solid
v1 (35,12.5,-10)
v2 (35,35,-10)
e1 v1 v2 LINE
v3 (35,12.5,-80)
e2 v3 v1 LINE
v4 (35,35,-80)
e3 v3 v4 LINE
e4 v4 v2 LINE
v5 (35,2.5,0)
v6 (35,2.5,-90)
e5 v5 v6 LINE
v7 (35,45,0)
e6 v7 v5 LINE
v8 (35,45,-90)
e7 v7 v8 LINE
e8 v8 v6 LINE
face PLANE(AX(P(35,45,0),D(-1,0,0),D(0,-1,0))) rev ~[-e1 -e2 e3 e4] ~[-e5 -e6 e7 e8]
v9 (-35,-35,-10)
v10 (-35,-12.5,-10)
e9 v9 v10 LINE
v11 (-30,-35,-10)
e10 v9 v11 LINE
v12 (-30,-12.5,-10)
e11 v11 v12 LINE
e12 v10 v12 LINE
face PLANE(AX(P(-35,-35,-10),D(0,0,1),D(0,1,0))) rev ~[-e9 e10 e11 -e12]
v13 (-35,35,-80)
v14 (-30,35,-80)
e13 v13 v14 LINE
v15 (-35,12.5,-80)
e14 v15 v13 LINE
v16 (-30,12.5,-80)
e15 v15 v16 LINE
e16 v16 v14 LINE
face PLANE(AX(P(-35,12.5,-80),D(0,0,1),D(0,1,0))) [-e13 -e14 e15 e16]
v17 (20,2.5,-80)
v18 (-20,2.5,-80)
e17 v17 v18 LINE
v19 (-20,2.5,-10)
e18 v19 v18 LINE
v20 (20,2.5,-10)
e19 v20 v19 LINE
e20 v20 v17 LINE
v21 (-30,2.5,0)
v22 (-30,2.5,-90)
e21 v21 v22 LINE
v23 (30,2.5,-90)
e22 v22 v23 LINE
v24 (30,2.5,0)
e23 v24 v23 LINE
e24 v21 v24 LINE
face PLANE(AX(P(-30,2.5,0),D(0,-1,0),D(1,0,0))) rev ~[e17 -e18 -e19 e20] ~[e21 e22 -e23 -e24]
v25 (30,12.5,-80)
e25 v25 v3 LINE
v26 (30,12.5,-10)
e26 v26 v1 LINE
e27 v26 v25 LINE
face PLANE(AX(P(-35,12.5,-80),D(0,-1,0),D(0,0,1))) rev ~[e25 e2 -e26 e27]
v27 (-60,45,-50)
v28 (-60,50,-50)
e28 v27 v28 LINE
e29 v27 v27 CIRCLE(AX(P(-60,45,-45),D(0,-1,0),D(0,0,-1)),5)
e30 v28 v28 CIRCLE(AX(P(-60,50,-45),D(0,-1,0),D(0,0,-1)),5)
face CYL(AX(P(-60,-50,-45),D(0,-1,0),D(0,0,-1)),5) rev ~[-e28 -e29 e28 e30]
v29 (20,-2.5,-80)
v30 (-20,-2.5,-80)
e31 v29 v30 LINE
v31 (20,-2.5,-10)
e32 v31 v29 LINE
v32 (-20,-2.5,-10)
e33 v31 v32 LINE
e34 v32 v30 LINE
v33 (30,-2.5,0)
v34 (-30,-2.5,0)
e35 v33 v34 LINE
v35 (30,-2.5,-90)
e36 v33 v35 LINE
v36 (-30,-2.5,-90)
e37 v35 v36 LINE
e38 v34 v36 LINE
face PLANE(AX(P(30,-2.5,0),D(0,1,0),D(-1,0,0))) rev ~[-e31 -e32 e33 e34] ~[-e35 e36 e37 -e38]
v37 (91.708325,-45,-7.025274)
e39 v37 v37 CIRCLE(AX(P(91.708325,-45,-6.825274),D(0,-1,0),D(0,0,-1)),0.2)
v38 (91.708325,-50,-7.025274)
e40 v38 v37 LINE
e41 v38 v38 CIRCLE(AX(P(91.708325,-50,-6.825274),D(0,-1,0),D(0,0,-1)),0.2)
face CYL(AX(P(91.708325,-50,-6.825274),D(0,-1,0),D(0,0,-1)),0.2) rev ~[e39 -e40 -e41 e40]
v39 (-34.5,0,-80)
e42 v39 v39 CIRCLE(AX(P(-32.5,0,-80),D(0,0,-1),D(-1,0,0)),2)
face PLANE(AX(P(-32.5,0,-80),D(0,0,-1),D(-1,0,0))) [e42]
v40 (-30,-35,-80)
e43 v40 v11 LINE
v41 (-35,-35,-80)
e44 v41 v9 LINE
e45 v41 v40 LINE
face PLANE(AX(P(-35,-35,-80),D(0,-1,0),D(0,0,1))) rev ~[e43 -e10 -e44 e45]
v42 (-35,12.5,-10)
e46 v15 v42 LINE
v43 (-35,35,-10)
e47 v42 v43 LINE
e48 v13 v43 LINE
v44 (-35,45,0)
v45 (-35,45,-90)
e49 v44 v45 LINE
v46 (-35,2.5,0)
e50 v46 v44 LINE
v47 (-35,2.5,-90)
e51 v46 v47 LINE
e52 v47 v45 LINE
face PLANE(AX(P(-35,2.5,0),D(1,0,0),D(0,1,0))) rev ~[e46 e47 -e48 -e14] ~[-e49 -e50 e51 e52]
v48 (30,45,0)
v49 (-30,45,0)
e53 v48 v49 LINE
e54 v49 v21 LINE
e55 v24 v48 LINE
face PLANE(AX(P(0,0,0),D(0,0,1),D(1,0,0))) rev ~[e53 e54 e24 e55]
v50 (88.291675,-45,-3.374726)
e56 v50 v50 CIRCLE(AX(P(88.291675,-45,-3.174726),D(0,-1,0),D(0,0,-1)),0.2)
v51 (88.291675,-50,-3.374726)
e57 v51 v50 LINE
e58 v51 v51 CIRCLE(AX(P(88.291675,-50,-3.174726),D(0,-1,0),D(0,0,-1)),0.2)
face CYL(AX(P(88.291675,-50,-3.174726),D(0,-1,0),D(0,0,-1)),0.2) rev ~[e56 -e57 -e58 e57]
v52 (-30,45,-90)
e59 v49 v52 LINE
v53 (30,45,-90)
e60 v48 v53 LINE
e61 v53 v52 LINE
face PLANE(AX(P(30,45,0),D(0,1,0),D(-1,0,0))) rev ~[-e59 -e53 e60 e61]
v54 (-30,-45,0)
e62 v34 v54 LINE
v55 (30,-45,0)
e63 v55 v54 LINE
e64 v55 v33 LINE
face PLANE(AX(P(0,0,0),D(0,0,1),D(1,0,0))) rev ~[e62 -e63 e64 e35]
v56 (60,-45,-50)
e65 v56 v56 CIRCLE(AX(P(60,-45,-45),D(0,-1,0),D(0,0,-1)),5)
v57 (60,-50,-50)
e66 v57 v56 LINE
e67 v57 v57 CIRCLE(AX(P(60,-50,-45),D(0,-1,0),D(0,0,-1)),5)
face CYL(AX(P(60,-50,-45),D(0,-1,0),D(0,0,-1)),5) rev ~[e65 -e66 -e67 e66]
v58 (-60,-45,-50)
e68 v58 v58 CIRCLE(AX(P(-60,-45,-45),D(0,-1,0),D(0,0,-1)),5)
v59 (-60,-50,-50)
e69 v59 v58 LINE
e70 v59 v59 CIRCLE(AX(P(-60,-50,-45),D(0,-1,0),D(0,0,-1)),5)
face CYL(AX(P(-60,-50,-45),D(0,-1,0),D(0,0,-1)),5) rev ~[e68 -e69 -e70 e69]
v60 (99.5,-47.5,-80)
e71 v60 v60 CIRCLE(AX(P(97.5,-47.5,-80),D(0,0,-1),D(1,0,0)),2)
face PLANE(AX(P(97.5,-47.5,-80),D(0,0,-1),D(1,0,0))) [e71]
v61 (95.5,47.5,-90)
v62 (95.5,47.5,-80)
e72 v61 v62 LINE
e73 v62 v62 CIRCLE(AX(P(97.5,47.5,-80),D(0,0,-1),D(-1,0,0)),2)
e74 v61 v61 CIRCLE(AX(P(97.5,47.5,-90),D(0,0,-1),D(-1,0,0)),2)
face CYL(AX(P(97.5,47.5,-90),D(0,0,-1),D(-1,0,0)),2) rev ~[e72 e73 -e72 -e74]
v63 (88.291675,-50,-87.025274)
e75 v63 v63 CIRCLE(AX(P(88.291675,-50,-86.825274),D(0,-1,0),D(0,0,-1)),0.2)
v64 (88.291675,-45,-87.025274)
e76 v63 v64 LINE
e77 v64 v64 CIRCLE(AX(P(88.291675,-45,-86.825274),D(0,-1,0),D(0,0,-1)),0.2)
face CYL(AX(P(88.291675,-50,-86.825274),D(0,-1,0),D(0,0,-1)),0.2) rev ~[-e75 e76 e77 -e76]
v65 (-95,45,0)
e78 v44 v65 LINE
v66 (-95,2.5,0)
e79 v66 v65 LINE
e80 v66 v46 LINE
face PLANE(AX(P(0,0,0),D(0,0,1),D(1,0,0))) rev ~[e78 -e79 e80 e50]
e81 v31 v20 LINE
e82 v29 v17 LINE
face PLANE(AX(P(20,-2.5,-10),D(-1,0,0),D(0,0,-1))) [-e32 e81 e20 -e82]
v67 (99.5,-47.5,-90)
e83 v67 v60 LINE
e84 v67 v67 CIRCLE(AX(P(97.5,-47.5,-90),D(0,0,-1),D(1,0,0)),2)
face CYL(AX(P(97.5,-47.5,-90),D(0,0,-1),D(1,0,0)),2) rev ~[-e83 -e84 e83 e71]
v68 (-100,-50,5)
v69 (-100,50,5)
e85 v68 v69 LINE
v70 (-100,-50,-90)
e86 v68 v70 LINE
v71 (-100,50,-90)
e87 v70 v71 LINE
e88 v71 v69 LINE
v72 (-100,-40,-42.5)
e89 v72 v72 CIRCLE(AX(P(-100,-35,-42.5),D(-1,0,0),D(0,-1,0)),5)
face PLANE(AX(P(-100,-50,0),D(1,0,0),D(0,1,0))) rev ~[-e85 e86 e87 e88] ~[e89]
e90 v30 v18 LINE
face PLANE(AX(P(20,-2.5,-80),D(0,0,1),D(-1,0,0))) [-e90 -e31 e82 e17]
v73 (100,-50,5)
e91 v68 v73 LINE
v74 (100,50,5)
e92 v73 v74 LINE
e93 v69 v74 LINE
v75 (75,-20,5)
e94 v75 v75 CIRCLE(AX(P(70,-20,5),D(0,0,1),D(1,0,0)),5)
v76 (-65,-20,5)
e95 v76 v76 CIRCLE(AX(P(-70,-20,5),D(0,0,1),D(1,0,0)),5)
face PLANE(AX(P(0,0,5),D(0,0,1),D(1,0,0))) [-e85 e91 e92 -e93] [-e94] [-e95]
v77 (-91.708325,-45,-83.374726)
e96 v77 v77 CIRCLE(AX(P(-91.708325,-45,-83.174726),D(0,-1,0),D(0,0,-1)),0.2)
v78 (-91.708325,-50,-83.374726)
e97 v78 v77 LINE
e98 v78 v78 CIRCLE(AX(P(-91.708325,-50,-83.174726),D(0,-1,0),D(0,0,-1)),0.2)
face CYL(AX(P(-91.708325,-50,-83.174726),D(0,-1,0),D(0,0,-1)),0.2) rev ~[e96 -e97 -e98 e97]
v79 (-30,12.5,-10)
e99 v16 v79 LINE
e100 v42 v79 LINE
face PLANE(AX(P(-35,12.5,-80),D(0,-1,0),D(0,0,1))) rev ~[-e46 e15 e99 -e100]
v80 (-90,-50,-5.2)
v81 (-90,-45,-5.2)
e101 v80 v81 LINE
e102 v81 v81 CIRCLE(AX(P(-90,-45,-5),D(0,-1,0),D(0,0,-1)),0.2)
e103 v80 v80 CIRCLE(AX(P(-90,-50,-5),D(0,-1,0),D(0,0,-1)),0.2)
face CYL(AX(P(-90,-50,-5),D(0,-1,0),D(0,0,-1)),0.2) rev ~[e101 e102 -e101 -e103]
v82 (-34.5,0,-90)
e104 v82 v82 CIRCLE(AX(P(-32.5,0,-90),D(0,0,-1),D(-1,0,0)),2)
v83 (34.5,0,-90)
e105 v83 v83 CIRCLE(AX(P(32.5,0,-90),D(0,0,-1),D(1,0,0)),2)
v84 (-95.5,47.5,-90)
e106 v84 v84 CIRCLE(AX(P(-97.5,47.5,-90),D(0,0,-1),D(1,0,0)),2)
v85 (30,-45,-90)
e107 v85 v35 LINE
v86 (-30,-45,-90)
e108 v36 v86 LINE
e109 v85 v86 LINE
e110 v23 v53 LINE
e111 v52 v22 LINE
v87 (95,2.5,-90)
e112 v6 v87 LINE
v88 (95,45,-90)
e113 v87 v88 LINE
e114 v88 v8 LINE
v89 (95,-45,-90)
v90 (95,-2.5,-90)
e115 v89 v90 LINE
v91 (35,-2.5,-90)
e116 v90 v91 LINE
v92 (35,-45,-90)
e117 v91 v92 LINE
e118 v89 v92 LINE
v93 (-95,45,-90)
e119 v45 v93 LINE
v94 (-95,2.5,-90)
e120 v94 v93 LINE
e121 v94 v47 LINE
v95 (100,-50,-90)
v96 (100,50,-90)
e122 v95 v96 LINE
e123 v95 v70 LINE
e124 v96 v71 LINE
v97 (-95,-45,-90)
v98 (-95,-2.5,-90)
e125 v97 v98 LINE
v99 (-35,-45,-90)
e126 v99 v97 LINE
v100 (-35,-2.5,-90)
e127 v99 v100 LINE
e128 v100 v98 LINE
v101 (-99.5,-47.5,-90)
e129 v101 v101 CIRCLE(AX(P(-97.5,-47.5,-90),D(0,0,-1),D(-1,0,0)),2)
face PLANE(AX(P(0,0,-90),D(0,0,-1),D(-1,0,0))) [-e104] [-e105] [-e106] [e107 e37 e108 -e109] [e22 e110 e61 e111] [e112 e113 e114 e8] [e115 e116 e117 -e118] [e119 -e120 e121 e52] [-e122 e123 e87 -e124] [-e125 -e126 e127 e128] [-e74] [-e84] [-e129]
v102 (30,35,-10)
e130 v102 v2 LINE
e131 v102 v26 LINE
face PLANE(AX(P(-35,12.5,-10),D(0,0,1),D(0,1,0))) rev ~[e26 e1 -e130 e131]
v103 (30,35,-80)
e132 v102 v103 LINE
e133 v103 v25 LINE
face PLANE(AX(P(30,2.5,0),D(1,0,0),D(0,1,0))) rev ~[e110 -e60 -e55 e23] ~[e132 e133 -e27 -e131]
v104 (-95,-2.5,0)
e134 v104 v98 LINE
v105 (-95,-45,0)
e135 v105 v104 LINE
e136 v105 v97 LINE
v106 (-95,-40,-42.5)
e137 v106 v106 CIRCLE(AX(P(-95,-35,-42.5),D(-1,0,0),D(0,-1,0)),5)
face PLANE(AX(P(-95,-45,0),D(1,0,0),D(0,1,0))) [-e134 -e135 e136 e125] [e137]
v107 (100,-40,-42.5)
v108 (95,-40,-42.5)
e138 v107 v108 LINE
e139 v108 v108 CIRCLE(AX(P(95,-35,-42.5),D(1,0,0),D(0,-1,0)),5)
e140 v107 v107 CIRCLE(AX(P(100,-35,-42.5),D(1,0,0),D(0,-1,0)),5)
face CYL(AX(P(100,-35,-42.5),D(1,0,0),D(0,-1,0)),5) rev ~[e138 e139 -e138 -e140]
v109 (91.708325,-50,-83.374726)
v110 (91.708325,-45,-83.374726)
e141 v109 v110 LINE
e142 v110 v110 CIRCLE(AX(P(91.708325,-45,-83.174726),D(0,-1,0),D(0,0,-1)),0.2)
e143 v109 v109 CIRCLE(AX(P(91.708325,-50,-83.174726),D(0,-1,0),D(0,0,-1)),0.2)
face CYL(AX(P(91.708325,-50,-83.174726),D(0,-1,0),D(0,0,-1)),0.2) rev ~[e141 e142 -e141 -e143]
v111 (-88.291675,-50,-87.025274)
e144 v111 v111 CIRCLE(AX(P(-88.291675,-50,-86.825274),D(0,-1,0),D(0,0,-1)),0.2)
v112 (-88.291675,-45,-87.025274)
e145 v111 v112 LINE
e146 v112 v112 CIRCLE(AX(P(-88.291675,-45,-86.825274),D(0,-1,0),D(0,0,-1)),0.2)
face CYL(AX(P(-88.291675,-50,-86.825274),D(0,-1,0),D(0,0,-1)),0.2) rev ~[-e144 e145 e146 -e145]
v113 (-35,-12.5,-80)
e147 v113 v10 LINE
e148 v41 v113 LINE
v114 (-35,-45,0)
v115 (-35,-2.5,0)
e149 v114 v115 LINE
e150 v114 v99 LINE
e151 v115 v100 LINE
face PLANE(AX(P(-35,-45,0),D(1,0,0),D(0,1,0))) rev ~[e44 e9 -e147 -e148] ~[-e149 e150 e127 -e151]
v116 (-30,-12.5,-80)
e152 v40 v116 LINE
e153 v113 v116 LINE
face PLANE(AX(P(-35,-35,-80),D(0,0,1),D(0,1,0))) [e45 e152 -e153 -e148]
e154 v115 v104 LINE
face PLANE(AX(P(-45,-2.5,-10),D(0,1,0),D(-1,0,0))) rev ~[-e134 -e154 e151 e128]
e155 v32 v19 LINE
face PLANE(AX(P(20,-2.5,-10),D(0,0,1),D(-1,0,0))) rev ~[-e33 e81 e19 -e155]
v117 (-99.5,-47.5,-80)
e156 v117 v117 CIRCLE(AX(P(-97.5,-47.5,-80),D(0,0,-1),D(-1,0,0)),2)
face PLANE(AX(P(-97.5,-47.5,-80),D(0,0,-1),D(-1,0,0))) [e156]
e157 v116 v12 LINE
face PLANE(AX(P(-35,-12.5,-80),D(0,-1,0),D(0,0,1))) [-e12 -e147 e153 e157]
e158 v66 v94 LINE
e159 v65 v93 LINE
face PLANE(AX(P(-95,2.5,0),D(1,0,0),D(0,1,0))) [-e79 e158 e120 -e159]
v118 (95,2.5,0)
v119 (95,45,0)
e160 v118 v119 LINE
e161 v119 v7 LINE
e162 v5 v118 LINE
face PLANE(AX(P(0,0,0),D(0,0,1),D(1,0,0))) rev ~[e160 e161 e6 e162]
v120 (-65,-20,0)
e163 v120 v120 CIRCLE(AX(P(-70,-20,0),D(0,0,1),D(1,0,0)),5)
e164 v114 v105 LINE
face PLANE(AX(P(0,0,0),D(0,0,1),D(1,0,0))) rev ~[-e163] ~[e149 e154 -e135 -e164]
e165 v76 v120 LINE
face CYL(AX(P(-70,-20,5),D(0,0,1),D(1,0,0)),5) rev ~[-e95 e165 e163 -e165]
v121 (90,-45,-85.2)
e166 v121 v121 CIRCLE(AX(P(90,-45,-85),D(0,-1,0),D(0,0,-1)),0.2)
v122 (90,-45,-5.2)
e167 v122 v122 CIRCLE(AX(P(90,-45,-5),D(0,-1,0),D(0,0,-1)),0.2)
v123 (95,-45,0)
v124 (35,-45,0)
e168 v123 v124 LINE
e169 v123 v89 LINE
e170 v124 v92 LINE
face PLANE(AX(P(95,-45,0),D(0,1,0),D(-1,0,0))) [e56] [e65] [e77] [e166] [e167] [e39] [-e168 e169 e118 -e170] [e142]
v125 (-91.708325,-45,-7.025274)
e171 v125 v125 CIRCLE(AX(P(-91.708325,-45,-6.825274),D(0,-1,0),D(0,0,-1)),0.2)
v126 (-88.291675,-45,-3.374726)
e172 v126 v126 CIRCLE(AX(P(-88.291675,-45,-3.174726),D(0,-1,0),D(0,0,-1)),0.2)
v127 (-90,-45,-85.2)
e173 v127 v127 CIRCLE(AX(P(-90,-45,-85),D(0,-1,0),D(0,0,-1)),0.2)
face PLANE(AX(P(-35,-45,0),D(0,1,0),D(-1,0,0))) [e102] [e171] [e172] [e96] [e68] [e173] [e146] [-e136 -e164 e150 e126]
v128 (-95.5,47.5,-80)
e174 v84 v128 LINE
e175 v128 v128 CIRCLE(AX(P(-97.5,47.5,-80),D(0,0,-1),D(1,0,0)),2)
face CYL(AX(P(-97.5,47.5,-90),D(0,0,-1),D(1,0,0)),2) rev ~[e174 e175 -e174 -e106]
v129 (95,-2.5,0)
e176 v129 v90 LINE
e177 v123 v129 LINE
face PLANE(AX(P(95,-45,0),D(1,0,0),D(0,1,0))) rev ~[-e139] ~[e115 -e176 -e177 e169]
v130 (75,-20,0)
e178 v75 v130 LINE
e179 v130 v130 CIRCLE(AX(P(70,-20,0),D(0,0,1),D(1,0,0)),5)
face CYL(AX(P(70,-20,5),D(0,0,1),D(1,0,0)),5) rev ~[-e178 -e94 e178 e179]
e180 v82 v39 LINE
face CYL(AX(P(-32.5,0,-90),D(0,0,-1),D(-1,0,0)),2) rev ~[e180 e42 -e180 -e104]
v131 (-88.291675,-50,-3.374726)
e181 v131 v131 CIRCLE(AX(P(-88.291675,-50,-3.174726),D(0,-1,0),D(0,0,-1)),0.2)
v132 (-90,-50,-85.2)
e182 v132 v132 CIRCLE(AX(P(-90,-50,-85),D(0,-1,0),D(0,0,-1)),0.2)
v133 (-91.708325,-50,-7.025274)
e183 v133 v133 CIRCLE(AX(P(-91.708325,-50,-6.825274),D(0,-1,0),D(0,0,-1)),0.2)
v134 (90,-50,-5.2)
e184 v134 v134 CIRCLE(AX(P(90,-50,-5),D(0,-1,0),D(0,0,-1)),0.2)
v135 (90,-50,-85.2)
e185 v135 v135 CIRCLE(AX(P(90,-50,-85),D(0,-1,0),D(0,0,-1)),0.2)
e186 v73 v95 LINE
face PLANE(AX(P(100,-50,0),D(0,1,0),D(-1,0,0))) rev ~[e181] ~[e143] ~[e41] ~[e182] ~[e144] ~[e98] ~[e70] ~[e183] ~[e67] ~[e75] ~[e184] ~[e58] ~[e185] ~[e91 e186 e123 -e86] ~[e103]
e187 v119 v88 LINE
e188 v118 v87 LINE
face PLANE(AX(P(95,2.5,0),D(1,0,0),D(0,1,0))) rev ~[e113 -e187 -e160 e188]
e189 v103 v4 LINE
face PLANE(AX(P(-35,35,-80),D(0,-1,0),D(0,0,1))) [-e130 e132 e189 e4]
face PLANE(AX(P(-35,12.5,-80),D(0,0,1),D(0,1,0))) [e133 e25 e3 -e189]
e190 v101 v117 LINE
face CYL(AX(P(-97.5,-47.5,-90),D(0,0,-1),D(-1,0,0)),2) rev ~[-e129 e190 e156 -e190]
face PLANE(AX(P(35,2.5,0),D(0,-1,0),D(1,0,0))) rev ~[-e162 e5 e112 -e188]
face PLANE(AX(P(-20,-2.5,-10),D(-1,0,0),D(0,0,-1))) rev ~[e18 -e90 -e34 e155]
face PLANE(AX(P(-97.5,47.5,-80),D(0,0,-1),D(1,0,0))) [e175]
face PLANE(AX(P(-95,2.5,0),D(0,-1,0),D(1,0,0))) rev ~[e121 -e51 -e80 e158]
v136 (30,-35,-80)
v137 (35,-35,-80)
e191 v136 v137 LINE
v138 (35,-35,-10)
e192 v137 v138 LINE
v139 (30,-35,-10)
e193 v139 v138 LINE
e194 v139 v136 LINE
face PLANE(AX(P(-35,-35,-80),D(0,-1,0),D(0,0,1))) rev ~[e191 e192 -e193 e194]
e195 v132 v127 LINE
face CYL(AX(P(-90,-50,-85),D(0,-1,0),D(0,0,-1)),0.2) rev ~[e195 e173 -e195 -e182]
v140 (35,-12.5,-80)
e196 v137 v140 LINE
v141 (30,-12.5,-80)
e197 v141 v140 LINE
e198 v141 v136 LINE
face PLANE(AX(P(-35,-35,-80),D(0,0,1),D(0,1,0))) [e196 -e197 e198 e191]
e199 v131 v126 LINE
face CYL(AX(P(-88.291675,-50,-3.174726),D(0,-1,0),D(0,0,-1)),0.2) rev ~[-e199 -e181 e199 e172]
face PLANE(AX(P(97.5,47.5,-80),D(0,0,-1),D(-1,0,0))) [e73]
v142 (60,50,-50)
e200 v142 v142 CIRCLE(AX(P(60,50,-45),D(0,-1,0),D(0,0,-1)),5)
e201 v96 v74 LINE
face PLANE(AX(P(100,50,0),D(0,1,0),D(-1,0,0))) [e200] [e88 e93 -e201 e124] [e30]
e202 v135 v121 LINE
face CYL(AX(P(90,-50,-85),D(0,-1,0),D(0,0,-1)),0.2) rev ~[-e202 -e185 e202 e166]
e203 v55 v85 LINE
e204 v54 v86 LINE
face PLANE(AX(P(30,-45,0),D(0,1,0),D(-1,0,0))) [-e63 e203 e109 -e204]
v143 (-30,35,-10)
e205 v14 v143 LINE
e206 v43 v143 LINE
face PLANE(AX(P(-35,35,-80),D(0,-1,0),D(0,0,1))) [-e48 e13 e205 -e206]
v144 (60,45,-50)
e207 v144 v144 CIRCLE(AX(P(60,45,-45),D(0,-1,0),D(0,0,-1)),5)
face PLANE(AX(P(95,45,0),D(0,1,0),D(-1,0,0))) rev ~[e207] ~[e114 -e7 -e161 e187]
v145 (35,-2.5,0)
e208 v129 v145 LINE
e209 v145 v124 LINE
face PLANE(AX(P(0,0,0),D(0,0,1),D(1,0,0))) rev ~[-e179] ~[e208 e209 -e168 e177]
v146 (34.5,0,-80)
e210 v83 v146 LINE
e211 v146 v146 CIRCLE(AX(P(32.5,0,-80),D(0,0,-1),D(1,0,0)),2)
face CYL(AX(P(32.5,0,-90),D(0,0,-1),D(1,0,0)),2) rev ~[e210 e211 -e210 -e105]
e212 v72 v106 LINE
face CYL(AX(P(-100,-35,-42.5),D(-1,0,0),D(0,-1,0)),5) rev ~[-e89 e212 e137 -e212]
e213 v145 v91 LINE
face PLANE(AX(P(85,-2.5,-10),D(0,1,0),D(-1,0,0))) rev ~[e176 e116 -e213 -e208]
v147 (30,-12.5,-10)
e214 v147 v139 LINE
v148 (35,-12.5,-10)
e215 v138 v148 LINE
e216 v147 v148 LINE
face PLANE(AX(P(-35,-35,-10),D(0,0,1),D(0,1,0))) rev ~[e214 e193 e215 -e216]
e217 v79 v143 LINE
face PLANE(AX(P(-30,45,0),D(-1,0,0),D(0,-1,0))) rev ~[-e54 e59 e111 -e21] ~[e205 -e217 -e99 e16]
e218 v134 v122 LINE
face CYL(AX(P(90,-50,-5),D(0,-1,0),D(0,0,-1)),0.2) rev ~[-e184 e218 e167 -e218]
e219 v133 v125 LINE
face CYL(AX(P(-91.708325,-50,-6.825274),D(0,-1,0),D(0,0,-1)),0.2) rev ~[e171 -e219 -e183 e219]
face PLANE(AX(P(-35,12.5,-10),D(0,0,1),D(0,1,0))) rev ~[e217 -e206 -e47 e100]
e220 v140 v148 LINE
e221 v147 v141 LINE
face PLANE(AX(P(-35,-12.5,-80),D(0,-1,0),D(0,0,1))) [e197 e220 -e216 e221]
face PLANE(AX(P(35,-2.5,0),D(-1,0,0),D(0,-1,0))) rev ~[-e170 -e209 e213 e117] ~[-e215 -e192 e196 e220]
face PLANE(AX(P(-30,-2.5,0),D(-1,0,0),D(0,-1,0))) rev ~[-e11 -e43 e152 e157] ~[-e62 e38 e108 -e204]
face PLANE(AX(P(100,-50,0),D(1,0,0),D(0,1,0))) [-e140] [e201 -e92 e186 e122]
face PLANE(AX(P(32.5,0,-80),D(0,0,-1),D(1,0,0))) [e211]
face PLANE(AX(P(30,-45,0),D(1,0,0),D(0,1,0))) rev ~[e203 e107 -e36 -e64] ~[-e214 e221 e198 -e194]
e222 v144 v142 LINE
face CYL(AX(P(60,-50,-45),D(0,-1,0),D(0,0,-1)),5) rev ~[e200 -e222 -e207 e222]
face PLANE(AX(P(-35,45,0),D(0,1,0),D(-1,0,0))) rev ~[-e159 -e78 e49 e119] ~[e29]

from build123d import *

# Parameters (mm, degrees)
SKETCH2_W           = 200
SKETCH2_H           = 100
SKETCH2_W_2         = 190
SKETCH2_H_2         = 90
SKETCH2_W_3         = 65.966934908
SKETCH2_H_3         = 42.5
BOSS_EXTRUDE1_DEPTH = 5
SKETCH4_W           = 200
SKETCH4_H           = 100
SKETCH4_W_2         = 190
SKETCH4_H_2         = 90
BOSS_EXTRUDE2_DEPTH = 90
SKETCH5_W           = 70
SKETCH5_H           = 22.5
CUT_EXTRUDE1_DEPTH  = 90
SKETCH6_W           = 70
SKETCH6_H           = 22.5
CUT_EXTRUDE2_DEPTH  = 90
SKETCH7_W           = 40
SKETCH7_H           = 70
CUT_EXTRUDE3_DEPTH  = 10
SKETCH8_W           = 40
SKETCH8_H           = 70
CUT_EXTRUDE4_DEPTH  = 10
SKETCH9_W           = 40
SKETCH9_H           = 70
CUT_EXTRUDE5_DEPTH  = 10
SKETCH10_R          = 2
CUT_EXTRUDE6_DEPTH  = 10
SKETCH11_R          = 5
CUT_EXTRUDE7_DEPTH  = 150
SKETCH12_R          = 5
CUT_EXTRUDE8_DEPTH  = 10
SKETCH13_R          = 5
CUT_EXTRUDE9_DEPTH  = 10
SKETCH14_R          = 5
CUT_EXTRUDE10_DEPTH = 10
SKETCH16_R          = 0.2
CUT_EXTRUDE11_DEPTH = 10
SKETCH17_W          = 40
SKETCH17_H          = 5
BOSS_EXTRUDE3_DEPTH = 70
SKETCH18_W          = 40
SKETCH18_H          = 5
BOSS_EXTRUDE4_DEPTH = 70


with BuildPart() as part:
    # Sketch2 → Boss-Extrude1 (new body)
    with BuildSketch(Plane.XY):
        Rectangle(SKETCH2_W, SKETCH2_H)
        Rectangle(SKETCH2_W_2, SKETCH2_H_2, mode=Mode.SUBTRACT)
        Polygon((-29.033065092, -2.5), (-29.033065092, -45), (95, -45), (95, 45), (-29.033065092, 45), (-29.033065092, 2.5), (-95, 2.5), (-95, -2.5), align=None)
        with Locations((-62.016532546, -23.75)):
            Rectangle(SKETCH2_W_3, SKETCH2_H_3)
        with Locations((-62.016532546, 23.75)):
            Rectangle(SKETCH2_W_3, SKETCH2_H_3)
    extrude(amount=BOSS_EXTRUDE1_DEPTH)

    # Sketch4 → Boss-Extrude2 (add)
    with BuildSketch(Plane(origin=(0, 0, 0), x_dir=(-1, 0, 0), z_dir=(0, 0, -1))):
        Rectangle(SKETCH4_W, SKETCH4_H)
        Rectangle(SKETCH4_W_2, SKETCH4_H_2, mode=Mode.SUBTRACT)
        Polygon((30, -45), (35, -45), (35, -2.5), (95, -2.5), (95, 2.5), (35, 2.5), (35, 45), (30, 45), (30, 2.5), (-30, 2.5), (-30, 45), (-35, 45), (-35, 2.5), (-95, 2.5), (-95, -2.5), (-35, -2.5), (-35, -45), (-30, -45), (-30, -2.5), (30, -2.5), align=None)
    extrude(amount=BOSS_EXTRUDE2_DEPTH)

    # Sketch5 → Cut-Extrude1 (cut)
    with BuildSketch(Plane.ZY.offset(35)):
        with Locations((-45, 23.75)):
            Rectangle(SKETCH5_W, SKETCH5_H)
    extrude(amount=-CUT_EXTRUDE1_DEPTH, mode=Mode.SUBTRACT)

    # Sketch6 → Cut-Extrude2 (cut)
    with BuildSketch(Plane.ZY.offset(35)):
        with Locations((-45, -23.75)):
            Rectangle(SKETCH6_W, SKETCH6_H)
    extrude(amount=-CUT_EXTRUDE2_DEPTH, mode=Mode.SUBTRACT)

    # Sketch7 → Cut-Extrude3 (cut)
    with BuildSketch(Plane(origin=(0, -2.5, 0), x_dir=(-1, 0, 0), z_dir=(0, -1, 0))):
        with Locations((65, 45)):
            Rectangle(SKETCH7_W, SKETCH7_H)
    extrude(amount=-CUT_EXTRUDE3_DEPTH, mode=Mode.SUBTRACT)

    # Sketch8 → Cut-Extrude4 (cut)
    with BuildSketch(Plane(origin=(0, -2.5, 0), x_dir=(-1, 0, 0), z_dir=(0, -1, 0))):
        with Locations((0, 45)):
            Rectangle(SKETCH8_W, SKETCH8_H)
    extrude(amount=-CUT_EXTRUDE4_DEPTH, mode=Mode.SUBTRACT)

    # Sketch9 → Cut-Extrude5 (cut)
    with BuildSketch(Plane(origin=(0, -2.5, 0), x_dir=(-1, 0, 0), z_dir=(0, -1, 0))):
        with Locations((-65, 45)):
            Rectangle(SKETCH9_W, SKETCH9_H)
    extrude(amount=-CUT_EXTRUDE5_DEPTH, mode=Mode.SUBTRACT)

    # Sketch10 → Cut-Extrude6 (cut)
    with BuildSketch(Plane(origin=(0, 0, -90), x_dir=(-1, 0, 0), z_dir=(0, 0, -1))):
        with Locations((32.5, 0)):
            Circle(SKETCH10_R)
        with Locations((97.5, -47.5)):
            Circle(SKETCH10_R)
        with Locations(Location((97.5, 47.5, 0), (0, 0, 180))):
            Circle(SKETCH10_R)
        with Locations((-97.5, 47.5)):
            Circle(SKETCH10_R)
        with Locations(Location((-32.5, 0, 0), (0, 0, 180))):
            Circle(SKETCH10_R)
        with Locations(Location((-97.5, -47.5, 0), (0, 0, 180))):
            Circle(SKETCH10_R)
    extrude(amount=-CUT_EXTRUDE6_DEPTH, mode=Mode.SUBTRACT)

    # Sketch11 → Cut-Extrude7 (cut)
    with BuildSketch(Plane(origin=(0, -50, 0), x_dir=(-1, 0, 0), z_dir=(0, -1, 0))):
        with Locations(Location((60, 45, 0), (0, 0, 90))):
            Circle(SKETCH11_R)
        with Locations(Location((-60, 45, 0), (0, 0, 90))):
            Circle(SKETCH11_R)
    extrude(amount=-CUT_EXTRUDE7_DEPTH, mode=Mode.SUBTRACT)

    # Sketch12 → Cut-Extrude8 (cut)
    with BuildSketch(Plane.ZY.offset(100)):
        with Locations(Location((-42.5, -35, 0), (0, 0, 270))):
            Circle(SKETCH12_R)
    extrude(amount=-CUT_EXTRUDE8_DEPTH, mode=Mode.SUBTRACT)

    # Sketch13 → Cut-Extrude9 (cut)
    with BuildSketch(Plane(origin=(100, 0, 0), x_dir=(0, 0, -1), z_dir=(1, 0, 0))):
        with Locations(Location((42.5, -35, 0), (0, 0, 270))):
            Circle(SKETCH13_R)
    extrude(amount=-CUT_EXTRUDE9_DEPTH, mode=Mode.SUBTRACT)

    # Sketch14 → Cut-Extrude10 (cut)
    with BuildSketch(Plane.XY.offset(5)):
        with Locations((-70, -20)):
            Circle(SKETCH14_R)
        with Locations((70, -20)):
            Circle(SKETCH14_R)
    extrude(amount=-CUT_EXTRUDE10_DEPTH, mode=Mode.SUBTRACT)

    # Sketch16 → Cut-Extrude11 (cut)
    with BuildSketch(Plane.XZ.offset(50)):
        with Locations(Location((90, -5, 0), (0, 0, 270))):
            Circle(SKETCH16_R)
        with Locations(Location((91.7083249, -6.825274236, 0), (0, 0, 270))):
            Circle(SKETCH16_R)
        with Locations(Location((88.2916751, -3.174725764, 0), (0, 0, 270))):
            Circle(SKETCH16_R)
        with Locations(Location((-91.7083249, -6.825274236, 0), (0, 0, 270))):
            Circle(SKETCH16_R)
        with Locations(Location((-90, -5, 0), (0, 0, 270))):
            Circle(SKETCH16_R)
        with Locations(Location((-88.2916751, -3.174725764, 0), (0, 0, 270))):
            Circle(SKETCH16_R)
        with Locations(Location((88.2916751, -86.825274236, 0), (0, 0, 270))):
            Circle(SKETCH16_R)
        with Locations(Location((90, -85, 0), (0, 0, 270))):
            Circle(SKETCH16_R)
        with Locations(Location((91.7083249, -83.174725764, 0), (0, 0, 270))):
            Circle(SKETCH16_R)
        with Locations(Location((-88.2916751, -86.825274236, 0), (0, 0, 270))):
            Circle(SKETCH16_R)
        with Locations(Location((-90, -85, 0), (0, 0, 270))):
            Circle(SKETCH16_R)
        with Locations(Location((-91.7083249, -83.174725764, 0), (0, 0, 270))):
            Circle(SKETCH16_R)
    extrude(amount=-CUT_EXTRUDE11_DEPTH, mode=Mode.SUBTRACT)

    # Sketch17 → Boss-Extrude3 (add)
    with BuildSketch(Plane(origin=(0, 0, -10), x_dir=(-1, 0, 0), z_dir=(0, 0, -1))):
        with Locations((65, 0)):
            Rectangle(SKETCH17_W, SKETCH17_H)
    extrude(amount=BOSS_EXTRUDE3_DEPTH)

    # Sketch18 → Boss-Extrude4 (add)
    with BuildSketch(Plane(origin=(0, 0, -10), x_dir=(-1, 0, 0), z_dir=(0, 0, -1))):
        with Locations((-65, 0)):
            Rectangle(SKETCH18_W, SKETCH18_H)
    extrude(amount=BOSS_EXTRUDE4_DEPTH)


solid = part.part
